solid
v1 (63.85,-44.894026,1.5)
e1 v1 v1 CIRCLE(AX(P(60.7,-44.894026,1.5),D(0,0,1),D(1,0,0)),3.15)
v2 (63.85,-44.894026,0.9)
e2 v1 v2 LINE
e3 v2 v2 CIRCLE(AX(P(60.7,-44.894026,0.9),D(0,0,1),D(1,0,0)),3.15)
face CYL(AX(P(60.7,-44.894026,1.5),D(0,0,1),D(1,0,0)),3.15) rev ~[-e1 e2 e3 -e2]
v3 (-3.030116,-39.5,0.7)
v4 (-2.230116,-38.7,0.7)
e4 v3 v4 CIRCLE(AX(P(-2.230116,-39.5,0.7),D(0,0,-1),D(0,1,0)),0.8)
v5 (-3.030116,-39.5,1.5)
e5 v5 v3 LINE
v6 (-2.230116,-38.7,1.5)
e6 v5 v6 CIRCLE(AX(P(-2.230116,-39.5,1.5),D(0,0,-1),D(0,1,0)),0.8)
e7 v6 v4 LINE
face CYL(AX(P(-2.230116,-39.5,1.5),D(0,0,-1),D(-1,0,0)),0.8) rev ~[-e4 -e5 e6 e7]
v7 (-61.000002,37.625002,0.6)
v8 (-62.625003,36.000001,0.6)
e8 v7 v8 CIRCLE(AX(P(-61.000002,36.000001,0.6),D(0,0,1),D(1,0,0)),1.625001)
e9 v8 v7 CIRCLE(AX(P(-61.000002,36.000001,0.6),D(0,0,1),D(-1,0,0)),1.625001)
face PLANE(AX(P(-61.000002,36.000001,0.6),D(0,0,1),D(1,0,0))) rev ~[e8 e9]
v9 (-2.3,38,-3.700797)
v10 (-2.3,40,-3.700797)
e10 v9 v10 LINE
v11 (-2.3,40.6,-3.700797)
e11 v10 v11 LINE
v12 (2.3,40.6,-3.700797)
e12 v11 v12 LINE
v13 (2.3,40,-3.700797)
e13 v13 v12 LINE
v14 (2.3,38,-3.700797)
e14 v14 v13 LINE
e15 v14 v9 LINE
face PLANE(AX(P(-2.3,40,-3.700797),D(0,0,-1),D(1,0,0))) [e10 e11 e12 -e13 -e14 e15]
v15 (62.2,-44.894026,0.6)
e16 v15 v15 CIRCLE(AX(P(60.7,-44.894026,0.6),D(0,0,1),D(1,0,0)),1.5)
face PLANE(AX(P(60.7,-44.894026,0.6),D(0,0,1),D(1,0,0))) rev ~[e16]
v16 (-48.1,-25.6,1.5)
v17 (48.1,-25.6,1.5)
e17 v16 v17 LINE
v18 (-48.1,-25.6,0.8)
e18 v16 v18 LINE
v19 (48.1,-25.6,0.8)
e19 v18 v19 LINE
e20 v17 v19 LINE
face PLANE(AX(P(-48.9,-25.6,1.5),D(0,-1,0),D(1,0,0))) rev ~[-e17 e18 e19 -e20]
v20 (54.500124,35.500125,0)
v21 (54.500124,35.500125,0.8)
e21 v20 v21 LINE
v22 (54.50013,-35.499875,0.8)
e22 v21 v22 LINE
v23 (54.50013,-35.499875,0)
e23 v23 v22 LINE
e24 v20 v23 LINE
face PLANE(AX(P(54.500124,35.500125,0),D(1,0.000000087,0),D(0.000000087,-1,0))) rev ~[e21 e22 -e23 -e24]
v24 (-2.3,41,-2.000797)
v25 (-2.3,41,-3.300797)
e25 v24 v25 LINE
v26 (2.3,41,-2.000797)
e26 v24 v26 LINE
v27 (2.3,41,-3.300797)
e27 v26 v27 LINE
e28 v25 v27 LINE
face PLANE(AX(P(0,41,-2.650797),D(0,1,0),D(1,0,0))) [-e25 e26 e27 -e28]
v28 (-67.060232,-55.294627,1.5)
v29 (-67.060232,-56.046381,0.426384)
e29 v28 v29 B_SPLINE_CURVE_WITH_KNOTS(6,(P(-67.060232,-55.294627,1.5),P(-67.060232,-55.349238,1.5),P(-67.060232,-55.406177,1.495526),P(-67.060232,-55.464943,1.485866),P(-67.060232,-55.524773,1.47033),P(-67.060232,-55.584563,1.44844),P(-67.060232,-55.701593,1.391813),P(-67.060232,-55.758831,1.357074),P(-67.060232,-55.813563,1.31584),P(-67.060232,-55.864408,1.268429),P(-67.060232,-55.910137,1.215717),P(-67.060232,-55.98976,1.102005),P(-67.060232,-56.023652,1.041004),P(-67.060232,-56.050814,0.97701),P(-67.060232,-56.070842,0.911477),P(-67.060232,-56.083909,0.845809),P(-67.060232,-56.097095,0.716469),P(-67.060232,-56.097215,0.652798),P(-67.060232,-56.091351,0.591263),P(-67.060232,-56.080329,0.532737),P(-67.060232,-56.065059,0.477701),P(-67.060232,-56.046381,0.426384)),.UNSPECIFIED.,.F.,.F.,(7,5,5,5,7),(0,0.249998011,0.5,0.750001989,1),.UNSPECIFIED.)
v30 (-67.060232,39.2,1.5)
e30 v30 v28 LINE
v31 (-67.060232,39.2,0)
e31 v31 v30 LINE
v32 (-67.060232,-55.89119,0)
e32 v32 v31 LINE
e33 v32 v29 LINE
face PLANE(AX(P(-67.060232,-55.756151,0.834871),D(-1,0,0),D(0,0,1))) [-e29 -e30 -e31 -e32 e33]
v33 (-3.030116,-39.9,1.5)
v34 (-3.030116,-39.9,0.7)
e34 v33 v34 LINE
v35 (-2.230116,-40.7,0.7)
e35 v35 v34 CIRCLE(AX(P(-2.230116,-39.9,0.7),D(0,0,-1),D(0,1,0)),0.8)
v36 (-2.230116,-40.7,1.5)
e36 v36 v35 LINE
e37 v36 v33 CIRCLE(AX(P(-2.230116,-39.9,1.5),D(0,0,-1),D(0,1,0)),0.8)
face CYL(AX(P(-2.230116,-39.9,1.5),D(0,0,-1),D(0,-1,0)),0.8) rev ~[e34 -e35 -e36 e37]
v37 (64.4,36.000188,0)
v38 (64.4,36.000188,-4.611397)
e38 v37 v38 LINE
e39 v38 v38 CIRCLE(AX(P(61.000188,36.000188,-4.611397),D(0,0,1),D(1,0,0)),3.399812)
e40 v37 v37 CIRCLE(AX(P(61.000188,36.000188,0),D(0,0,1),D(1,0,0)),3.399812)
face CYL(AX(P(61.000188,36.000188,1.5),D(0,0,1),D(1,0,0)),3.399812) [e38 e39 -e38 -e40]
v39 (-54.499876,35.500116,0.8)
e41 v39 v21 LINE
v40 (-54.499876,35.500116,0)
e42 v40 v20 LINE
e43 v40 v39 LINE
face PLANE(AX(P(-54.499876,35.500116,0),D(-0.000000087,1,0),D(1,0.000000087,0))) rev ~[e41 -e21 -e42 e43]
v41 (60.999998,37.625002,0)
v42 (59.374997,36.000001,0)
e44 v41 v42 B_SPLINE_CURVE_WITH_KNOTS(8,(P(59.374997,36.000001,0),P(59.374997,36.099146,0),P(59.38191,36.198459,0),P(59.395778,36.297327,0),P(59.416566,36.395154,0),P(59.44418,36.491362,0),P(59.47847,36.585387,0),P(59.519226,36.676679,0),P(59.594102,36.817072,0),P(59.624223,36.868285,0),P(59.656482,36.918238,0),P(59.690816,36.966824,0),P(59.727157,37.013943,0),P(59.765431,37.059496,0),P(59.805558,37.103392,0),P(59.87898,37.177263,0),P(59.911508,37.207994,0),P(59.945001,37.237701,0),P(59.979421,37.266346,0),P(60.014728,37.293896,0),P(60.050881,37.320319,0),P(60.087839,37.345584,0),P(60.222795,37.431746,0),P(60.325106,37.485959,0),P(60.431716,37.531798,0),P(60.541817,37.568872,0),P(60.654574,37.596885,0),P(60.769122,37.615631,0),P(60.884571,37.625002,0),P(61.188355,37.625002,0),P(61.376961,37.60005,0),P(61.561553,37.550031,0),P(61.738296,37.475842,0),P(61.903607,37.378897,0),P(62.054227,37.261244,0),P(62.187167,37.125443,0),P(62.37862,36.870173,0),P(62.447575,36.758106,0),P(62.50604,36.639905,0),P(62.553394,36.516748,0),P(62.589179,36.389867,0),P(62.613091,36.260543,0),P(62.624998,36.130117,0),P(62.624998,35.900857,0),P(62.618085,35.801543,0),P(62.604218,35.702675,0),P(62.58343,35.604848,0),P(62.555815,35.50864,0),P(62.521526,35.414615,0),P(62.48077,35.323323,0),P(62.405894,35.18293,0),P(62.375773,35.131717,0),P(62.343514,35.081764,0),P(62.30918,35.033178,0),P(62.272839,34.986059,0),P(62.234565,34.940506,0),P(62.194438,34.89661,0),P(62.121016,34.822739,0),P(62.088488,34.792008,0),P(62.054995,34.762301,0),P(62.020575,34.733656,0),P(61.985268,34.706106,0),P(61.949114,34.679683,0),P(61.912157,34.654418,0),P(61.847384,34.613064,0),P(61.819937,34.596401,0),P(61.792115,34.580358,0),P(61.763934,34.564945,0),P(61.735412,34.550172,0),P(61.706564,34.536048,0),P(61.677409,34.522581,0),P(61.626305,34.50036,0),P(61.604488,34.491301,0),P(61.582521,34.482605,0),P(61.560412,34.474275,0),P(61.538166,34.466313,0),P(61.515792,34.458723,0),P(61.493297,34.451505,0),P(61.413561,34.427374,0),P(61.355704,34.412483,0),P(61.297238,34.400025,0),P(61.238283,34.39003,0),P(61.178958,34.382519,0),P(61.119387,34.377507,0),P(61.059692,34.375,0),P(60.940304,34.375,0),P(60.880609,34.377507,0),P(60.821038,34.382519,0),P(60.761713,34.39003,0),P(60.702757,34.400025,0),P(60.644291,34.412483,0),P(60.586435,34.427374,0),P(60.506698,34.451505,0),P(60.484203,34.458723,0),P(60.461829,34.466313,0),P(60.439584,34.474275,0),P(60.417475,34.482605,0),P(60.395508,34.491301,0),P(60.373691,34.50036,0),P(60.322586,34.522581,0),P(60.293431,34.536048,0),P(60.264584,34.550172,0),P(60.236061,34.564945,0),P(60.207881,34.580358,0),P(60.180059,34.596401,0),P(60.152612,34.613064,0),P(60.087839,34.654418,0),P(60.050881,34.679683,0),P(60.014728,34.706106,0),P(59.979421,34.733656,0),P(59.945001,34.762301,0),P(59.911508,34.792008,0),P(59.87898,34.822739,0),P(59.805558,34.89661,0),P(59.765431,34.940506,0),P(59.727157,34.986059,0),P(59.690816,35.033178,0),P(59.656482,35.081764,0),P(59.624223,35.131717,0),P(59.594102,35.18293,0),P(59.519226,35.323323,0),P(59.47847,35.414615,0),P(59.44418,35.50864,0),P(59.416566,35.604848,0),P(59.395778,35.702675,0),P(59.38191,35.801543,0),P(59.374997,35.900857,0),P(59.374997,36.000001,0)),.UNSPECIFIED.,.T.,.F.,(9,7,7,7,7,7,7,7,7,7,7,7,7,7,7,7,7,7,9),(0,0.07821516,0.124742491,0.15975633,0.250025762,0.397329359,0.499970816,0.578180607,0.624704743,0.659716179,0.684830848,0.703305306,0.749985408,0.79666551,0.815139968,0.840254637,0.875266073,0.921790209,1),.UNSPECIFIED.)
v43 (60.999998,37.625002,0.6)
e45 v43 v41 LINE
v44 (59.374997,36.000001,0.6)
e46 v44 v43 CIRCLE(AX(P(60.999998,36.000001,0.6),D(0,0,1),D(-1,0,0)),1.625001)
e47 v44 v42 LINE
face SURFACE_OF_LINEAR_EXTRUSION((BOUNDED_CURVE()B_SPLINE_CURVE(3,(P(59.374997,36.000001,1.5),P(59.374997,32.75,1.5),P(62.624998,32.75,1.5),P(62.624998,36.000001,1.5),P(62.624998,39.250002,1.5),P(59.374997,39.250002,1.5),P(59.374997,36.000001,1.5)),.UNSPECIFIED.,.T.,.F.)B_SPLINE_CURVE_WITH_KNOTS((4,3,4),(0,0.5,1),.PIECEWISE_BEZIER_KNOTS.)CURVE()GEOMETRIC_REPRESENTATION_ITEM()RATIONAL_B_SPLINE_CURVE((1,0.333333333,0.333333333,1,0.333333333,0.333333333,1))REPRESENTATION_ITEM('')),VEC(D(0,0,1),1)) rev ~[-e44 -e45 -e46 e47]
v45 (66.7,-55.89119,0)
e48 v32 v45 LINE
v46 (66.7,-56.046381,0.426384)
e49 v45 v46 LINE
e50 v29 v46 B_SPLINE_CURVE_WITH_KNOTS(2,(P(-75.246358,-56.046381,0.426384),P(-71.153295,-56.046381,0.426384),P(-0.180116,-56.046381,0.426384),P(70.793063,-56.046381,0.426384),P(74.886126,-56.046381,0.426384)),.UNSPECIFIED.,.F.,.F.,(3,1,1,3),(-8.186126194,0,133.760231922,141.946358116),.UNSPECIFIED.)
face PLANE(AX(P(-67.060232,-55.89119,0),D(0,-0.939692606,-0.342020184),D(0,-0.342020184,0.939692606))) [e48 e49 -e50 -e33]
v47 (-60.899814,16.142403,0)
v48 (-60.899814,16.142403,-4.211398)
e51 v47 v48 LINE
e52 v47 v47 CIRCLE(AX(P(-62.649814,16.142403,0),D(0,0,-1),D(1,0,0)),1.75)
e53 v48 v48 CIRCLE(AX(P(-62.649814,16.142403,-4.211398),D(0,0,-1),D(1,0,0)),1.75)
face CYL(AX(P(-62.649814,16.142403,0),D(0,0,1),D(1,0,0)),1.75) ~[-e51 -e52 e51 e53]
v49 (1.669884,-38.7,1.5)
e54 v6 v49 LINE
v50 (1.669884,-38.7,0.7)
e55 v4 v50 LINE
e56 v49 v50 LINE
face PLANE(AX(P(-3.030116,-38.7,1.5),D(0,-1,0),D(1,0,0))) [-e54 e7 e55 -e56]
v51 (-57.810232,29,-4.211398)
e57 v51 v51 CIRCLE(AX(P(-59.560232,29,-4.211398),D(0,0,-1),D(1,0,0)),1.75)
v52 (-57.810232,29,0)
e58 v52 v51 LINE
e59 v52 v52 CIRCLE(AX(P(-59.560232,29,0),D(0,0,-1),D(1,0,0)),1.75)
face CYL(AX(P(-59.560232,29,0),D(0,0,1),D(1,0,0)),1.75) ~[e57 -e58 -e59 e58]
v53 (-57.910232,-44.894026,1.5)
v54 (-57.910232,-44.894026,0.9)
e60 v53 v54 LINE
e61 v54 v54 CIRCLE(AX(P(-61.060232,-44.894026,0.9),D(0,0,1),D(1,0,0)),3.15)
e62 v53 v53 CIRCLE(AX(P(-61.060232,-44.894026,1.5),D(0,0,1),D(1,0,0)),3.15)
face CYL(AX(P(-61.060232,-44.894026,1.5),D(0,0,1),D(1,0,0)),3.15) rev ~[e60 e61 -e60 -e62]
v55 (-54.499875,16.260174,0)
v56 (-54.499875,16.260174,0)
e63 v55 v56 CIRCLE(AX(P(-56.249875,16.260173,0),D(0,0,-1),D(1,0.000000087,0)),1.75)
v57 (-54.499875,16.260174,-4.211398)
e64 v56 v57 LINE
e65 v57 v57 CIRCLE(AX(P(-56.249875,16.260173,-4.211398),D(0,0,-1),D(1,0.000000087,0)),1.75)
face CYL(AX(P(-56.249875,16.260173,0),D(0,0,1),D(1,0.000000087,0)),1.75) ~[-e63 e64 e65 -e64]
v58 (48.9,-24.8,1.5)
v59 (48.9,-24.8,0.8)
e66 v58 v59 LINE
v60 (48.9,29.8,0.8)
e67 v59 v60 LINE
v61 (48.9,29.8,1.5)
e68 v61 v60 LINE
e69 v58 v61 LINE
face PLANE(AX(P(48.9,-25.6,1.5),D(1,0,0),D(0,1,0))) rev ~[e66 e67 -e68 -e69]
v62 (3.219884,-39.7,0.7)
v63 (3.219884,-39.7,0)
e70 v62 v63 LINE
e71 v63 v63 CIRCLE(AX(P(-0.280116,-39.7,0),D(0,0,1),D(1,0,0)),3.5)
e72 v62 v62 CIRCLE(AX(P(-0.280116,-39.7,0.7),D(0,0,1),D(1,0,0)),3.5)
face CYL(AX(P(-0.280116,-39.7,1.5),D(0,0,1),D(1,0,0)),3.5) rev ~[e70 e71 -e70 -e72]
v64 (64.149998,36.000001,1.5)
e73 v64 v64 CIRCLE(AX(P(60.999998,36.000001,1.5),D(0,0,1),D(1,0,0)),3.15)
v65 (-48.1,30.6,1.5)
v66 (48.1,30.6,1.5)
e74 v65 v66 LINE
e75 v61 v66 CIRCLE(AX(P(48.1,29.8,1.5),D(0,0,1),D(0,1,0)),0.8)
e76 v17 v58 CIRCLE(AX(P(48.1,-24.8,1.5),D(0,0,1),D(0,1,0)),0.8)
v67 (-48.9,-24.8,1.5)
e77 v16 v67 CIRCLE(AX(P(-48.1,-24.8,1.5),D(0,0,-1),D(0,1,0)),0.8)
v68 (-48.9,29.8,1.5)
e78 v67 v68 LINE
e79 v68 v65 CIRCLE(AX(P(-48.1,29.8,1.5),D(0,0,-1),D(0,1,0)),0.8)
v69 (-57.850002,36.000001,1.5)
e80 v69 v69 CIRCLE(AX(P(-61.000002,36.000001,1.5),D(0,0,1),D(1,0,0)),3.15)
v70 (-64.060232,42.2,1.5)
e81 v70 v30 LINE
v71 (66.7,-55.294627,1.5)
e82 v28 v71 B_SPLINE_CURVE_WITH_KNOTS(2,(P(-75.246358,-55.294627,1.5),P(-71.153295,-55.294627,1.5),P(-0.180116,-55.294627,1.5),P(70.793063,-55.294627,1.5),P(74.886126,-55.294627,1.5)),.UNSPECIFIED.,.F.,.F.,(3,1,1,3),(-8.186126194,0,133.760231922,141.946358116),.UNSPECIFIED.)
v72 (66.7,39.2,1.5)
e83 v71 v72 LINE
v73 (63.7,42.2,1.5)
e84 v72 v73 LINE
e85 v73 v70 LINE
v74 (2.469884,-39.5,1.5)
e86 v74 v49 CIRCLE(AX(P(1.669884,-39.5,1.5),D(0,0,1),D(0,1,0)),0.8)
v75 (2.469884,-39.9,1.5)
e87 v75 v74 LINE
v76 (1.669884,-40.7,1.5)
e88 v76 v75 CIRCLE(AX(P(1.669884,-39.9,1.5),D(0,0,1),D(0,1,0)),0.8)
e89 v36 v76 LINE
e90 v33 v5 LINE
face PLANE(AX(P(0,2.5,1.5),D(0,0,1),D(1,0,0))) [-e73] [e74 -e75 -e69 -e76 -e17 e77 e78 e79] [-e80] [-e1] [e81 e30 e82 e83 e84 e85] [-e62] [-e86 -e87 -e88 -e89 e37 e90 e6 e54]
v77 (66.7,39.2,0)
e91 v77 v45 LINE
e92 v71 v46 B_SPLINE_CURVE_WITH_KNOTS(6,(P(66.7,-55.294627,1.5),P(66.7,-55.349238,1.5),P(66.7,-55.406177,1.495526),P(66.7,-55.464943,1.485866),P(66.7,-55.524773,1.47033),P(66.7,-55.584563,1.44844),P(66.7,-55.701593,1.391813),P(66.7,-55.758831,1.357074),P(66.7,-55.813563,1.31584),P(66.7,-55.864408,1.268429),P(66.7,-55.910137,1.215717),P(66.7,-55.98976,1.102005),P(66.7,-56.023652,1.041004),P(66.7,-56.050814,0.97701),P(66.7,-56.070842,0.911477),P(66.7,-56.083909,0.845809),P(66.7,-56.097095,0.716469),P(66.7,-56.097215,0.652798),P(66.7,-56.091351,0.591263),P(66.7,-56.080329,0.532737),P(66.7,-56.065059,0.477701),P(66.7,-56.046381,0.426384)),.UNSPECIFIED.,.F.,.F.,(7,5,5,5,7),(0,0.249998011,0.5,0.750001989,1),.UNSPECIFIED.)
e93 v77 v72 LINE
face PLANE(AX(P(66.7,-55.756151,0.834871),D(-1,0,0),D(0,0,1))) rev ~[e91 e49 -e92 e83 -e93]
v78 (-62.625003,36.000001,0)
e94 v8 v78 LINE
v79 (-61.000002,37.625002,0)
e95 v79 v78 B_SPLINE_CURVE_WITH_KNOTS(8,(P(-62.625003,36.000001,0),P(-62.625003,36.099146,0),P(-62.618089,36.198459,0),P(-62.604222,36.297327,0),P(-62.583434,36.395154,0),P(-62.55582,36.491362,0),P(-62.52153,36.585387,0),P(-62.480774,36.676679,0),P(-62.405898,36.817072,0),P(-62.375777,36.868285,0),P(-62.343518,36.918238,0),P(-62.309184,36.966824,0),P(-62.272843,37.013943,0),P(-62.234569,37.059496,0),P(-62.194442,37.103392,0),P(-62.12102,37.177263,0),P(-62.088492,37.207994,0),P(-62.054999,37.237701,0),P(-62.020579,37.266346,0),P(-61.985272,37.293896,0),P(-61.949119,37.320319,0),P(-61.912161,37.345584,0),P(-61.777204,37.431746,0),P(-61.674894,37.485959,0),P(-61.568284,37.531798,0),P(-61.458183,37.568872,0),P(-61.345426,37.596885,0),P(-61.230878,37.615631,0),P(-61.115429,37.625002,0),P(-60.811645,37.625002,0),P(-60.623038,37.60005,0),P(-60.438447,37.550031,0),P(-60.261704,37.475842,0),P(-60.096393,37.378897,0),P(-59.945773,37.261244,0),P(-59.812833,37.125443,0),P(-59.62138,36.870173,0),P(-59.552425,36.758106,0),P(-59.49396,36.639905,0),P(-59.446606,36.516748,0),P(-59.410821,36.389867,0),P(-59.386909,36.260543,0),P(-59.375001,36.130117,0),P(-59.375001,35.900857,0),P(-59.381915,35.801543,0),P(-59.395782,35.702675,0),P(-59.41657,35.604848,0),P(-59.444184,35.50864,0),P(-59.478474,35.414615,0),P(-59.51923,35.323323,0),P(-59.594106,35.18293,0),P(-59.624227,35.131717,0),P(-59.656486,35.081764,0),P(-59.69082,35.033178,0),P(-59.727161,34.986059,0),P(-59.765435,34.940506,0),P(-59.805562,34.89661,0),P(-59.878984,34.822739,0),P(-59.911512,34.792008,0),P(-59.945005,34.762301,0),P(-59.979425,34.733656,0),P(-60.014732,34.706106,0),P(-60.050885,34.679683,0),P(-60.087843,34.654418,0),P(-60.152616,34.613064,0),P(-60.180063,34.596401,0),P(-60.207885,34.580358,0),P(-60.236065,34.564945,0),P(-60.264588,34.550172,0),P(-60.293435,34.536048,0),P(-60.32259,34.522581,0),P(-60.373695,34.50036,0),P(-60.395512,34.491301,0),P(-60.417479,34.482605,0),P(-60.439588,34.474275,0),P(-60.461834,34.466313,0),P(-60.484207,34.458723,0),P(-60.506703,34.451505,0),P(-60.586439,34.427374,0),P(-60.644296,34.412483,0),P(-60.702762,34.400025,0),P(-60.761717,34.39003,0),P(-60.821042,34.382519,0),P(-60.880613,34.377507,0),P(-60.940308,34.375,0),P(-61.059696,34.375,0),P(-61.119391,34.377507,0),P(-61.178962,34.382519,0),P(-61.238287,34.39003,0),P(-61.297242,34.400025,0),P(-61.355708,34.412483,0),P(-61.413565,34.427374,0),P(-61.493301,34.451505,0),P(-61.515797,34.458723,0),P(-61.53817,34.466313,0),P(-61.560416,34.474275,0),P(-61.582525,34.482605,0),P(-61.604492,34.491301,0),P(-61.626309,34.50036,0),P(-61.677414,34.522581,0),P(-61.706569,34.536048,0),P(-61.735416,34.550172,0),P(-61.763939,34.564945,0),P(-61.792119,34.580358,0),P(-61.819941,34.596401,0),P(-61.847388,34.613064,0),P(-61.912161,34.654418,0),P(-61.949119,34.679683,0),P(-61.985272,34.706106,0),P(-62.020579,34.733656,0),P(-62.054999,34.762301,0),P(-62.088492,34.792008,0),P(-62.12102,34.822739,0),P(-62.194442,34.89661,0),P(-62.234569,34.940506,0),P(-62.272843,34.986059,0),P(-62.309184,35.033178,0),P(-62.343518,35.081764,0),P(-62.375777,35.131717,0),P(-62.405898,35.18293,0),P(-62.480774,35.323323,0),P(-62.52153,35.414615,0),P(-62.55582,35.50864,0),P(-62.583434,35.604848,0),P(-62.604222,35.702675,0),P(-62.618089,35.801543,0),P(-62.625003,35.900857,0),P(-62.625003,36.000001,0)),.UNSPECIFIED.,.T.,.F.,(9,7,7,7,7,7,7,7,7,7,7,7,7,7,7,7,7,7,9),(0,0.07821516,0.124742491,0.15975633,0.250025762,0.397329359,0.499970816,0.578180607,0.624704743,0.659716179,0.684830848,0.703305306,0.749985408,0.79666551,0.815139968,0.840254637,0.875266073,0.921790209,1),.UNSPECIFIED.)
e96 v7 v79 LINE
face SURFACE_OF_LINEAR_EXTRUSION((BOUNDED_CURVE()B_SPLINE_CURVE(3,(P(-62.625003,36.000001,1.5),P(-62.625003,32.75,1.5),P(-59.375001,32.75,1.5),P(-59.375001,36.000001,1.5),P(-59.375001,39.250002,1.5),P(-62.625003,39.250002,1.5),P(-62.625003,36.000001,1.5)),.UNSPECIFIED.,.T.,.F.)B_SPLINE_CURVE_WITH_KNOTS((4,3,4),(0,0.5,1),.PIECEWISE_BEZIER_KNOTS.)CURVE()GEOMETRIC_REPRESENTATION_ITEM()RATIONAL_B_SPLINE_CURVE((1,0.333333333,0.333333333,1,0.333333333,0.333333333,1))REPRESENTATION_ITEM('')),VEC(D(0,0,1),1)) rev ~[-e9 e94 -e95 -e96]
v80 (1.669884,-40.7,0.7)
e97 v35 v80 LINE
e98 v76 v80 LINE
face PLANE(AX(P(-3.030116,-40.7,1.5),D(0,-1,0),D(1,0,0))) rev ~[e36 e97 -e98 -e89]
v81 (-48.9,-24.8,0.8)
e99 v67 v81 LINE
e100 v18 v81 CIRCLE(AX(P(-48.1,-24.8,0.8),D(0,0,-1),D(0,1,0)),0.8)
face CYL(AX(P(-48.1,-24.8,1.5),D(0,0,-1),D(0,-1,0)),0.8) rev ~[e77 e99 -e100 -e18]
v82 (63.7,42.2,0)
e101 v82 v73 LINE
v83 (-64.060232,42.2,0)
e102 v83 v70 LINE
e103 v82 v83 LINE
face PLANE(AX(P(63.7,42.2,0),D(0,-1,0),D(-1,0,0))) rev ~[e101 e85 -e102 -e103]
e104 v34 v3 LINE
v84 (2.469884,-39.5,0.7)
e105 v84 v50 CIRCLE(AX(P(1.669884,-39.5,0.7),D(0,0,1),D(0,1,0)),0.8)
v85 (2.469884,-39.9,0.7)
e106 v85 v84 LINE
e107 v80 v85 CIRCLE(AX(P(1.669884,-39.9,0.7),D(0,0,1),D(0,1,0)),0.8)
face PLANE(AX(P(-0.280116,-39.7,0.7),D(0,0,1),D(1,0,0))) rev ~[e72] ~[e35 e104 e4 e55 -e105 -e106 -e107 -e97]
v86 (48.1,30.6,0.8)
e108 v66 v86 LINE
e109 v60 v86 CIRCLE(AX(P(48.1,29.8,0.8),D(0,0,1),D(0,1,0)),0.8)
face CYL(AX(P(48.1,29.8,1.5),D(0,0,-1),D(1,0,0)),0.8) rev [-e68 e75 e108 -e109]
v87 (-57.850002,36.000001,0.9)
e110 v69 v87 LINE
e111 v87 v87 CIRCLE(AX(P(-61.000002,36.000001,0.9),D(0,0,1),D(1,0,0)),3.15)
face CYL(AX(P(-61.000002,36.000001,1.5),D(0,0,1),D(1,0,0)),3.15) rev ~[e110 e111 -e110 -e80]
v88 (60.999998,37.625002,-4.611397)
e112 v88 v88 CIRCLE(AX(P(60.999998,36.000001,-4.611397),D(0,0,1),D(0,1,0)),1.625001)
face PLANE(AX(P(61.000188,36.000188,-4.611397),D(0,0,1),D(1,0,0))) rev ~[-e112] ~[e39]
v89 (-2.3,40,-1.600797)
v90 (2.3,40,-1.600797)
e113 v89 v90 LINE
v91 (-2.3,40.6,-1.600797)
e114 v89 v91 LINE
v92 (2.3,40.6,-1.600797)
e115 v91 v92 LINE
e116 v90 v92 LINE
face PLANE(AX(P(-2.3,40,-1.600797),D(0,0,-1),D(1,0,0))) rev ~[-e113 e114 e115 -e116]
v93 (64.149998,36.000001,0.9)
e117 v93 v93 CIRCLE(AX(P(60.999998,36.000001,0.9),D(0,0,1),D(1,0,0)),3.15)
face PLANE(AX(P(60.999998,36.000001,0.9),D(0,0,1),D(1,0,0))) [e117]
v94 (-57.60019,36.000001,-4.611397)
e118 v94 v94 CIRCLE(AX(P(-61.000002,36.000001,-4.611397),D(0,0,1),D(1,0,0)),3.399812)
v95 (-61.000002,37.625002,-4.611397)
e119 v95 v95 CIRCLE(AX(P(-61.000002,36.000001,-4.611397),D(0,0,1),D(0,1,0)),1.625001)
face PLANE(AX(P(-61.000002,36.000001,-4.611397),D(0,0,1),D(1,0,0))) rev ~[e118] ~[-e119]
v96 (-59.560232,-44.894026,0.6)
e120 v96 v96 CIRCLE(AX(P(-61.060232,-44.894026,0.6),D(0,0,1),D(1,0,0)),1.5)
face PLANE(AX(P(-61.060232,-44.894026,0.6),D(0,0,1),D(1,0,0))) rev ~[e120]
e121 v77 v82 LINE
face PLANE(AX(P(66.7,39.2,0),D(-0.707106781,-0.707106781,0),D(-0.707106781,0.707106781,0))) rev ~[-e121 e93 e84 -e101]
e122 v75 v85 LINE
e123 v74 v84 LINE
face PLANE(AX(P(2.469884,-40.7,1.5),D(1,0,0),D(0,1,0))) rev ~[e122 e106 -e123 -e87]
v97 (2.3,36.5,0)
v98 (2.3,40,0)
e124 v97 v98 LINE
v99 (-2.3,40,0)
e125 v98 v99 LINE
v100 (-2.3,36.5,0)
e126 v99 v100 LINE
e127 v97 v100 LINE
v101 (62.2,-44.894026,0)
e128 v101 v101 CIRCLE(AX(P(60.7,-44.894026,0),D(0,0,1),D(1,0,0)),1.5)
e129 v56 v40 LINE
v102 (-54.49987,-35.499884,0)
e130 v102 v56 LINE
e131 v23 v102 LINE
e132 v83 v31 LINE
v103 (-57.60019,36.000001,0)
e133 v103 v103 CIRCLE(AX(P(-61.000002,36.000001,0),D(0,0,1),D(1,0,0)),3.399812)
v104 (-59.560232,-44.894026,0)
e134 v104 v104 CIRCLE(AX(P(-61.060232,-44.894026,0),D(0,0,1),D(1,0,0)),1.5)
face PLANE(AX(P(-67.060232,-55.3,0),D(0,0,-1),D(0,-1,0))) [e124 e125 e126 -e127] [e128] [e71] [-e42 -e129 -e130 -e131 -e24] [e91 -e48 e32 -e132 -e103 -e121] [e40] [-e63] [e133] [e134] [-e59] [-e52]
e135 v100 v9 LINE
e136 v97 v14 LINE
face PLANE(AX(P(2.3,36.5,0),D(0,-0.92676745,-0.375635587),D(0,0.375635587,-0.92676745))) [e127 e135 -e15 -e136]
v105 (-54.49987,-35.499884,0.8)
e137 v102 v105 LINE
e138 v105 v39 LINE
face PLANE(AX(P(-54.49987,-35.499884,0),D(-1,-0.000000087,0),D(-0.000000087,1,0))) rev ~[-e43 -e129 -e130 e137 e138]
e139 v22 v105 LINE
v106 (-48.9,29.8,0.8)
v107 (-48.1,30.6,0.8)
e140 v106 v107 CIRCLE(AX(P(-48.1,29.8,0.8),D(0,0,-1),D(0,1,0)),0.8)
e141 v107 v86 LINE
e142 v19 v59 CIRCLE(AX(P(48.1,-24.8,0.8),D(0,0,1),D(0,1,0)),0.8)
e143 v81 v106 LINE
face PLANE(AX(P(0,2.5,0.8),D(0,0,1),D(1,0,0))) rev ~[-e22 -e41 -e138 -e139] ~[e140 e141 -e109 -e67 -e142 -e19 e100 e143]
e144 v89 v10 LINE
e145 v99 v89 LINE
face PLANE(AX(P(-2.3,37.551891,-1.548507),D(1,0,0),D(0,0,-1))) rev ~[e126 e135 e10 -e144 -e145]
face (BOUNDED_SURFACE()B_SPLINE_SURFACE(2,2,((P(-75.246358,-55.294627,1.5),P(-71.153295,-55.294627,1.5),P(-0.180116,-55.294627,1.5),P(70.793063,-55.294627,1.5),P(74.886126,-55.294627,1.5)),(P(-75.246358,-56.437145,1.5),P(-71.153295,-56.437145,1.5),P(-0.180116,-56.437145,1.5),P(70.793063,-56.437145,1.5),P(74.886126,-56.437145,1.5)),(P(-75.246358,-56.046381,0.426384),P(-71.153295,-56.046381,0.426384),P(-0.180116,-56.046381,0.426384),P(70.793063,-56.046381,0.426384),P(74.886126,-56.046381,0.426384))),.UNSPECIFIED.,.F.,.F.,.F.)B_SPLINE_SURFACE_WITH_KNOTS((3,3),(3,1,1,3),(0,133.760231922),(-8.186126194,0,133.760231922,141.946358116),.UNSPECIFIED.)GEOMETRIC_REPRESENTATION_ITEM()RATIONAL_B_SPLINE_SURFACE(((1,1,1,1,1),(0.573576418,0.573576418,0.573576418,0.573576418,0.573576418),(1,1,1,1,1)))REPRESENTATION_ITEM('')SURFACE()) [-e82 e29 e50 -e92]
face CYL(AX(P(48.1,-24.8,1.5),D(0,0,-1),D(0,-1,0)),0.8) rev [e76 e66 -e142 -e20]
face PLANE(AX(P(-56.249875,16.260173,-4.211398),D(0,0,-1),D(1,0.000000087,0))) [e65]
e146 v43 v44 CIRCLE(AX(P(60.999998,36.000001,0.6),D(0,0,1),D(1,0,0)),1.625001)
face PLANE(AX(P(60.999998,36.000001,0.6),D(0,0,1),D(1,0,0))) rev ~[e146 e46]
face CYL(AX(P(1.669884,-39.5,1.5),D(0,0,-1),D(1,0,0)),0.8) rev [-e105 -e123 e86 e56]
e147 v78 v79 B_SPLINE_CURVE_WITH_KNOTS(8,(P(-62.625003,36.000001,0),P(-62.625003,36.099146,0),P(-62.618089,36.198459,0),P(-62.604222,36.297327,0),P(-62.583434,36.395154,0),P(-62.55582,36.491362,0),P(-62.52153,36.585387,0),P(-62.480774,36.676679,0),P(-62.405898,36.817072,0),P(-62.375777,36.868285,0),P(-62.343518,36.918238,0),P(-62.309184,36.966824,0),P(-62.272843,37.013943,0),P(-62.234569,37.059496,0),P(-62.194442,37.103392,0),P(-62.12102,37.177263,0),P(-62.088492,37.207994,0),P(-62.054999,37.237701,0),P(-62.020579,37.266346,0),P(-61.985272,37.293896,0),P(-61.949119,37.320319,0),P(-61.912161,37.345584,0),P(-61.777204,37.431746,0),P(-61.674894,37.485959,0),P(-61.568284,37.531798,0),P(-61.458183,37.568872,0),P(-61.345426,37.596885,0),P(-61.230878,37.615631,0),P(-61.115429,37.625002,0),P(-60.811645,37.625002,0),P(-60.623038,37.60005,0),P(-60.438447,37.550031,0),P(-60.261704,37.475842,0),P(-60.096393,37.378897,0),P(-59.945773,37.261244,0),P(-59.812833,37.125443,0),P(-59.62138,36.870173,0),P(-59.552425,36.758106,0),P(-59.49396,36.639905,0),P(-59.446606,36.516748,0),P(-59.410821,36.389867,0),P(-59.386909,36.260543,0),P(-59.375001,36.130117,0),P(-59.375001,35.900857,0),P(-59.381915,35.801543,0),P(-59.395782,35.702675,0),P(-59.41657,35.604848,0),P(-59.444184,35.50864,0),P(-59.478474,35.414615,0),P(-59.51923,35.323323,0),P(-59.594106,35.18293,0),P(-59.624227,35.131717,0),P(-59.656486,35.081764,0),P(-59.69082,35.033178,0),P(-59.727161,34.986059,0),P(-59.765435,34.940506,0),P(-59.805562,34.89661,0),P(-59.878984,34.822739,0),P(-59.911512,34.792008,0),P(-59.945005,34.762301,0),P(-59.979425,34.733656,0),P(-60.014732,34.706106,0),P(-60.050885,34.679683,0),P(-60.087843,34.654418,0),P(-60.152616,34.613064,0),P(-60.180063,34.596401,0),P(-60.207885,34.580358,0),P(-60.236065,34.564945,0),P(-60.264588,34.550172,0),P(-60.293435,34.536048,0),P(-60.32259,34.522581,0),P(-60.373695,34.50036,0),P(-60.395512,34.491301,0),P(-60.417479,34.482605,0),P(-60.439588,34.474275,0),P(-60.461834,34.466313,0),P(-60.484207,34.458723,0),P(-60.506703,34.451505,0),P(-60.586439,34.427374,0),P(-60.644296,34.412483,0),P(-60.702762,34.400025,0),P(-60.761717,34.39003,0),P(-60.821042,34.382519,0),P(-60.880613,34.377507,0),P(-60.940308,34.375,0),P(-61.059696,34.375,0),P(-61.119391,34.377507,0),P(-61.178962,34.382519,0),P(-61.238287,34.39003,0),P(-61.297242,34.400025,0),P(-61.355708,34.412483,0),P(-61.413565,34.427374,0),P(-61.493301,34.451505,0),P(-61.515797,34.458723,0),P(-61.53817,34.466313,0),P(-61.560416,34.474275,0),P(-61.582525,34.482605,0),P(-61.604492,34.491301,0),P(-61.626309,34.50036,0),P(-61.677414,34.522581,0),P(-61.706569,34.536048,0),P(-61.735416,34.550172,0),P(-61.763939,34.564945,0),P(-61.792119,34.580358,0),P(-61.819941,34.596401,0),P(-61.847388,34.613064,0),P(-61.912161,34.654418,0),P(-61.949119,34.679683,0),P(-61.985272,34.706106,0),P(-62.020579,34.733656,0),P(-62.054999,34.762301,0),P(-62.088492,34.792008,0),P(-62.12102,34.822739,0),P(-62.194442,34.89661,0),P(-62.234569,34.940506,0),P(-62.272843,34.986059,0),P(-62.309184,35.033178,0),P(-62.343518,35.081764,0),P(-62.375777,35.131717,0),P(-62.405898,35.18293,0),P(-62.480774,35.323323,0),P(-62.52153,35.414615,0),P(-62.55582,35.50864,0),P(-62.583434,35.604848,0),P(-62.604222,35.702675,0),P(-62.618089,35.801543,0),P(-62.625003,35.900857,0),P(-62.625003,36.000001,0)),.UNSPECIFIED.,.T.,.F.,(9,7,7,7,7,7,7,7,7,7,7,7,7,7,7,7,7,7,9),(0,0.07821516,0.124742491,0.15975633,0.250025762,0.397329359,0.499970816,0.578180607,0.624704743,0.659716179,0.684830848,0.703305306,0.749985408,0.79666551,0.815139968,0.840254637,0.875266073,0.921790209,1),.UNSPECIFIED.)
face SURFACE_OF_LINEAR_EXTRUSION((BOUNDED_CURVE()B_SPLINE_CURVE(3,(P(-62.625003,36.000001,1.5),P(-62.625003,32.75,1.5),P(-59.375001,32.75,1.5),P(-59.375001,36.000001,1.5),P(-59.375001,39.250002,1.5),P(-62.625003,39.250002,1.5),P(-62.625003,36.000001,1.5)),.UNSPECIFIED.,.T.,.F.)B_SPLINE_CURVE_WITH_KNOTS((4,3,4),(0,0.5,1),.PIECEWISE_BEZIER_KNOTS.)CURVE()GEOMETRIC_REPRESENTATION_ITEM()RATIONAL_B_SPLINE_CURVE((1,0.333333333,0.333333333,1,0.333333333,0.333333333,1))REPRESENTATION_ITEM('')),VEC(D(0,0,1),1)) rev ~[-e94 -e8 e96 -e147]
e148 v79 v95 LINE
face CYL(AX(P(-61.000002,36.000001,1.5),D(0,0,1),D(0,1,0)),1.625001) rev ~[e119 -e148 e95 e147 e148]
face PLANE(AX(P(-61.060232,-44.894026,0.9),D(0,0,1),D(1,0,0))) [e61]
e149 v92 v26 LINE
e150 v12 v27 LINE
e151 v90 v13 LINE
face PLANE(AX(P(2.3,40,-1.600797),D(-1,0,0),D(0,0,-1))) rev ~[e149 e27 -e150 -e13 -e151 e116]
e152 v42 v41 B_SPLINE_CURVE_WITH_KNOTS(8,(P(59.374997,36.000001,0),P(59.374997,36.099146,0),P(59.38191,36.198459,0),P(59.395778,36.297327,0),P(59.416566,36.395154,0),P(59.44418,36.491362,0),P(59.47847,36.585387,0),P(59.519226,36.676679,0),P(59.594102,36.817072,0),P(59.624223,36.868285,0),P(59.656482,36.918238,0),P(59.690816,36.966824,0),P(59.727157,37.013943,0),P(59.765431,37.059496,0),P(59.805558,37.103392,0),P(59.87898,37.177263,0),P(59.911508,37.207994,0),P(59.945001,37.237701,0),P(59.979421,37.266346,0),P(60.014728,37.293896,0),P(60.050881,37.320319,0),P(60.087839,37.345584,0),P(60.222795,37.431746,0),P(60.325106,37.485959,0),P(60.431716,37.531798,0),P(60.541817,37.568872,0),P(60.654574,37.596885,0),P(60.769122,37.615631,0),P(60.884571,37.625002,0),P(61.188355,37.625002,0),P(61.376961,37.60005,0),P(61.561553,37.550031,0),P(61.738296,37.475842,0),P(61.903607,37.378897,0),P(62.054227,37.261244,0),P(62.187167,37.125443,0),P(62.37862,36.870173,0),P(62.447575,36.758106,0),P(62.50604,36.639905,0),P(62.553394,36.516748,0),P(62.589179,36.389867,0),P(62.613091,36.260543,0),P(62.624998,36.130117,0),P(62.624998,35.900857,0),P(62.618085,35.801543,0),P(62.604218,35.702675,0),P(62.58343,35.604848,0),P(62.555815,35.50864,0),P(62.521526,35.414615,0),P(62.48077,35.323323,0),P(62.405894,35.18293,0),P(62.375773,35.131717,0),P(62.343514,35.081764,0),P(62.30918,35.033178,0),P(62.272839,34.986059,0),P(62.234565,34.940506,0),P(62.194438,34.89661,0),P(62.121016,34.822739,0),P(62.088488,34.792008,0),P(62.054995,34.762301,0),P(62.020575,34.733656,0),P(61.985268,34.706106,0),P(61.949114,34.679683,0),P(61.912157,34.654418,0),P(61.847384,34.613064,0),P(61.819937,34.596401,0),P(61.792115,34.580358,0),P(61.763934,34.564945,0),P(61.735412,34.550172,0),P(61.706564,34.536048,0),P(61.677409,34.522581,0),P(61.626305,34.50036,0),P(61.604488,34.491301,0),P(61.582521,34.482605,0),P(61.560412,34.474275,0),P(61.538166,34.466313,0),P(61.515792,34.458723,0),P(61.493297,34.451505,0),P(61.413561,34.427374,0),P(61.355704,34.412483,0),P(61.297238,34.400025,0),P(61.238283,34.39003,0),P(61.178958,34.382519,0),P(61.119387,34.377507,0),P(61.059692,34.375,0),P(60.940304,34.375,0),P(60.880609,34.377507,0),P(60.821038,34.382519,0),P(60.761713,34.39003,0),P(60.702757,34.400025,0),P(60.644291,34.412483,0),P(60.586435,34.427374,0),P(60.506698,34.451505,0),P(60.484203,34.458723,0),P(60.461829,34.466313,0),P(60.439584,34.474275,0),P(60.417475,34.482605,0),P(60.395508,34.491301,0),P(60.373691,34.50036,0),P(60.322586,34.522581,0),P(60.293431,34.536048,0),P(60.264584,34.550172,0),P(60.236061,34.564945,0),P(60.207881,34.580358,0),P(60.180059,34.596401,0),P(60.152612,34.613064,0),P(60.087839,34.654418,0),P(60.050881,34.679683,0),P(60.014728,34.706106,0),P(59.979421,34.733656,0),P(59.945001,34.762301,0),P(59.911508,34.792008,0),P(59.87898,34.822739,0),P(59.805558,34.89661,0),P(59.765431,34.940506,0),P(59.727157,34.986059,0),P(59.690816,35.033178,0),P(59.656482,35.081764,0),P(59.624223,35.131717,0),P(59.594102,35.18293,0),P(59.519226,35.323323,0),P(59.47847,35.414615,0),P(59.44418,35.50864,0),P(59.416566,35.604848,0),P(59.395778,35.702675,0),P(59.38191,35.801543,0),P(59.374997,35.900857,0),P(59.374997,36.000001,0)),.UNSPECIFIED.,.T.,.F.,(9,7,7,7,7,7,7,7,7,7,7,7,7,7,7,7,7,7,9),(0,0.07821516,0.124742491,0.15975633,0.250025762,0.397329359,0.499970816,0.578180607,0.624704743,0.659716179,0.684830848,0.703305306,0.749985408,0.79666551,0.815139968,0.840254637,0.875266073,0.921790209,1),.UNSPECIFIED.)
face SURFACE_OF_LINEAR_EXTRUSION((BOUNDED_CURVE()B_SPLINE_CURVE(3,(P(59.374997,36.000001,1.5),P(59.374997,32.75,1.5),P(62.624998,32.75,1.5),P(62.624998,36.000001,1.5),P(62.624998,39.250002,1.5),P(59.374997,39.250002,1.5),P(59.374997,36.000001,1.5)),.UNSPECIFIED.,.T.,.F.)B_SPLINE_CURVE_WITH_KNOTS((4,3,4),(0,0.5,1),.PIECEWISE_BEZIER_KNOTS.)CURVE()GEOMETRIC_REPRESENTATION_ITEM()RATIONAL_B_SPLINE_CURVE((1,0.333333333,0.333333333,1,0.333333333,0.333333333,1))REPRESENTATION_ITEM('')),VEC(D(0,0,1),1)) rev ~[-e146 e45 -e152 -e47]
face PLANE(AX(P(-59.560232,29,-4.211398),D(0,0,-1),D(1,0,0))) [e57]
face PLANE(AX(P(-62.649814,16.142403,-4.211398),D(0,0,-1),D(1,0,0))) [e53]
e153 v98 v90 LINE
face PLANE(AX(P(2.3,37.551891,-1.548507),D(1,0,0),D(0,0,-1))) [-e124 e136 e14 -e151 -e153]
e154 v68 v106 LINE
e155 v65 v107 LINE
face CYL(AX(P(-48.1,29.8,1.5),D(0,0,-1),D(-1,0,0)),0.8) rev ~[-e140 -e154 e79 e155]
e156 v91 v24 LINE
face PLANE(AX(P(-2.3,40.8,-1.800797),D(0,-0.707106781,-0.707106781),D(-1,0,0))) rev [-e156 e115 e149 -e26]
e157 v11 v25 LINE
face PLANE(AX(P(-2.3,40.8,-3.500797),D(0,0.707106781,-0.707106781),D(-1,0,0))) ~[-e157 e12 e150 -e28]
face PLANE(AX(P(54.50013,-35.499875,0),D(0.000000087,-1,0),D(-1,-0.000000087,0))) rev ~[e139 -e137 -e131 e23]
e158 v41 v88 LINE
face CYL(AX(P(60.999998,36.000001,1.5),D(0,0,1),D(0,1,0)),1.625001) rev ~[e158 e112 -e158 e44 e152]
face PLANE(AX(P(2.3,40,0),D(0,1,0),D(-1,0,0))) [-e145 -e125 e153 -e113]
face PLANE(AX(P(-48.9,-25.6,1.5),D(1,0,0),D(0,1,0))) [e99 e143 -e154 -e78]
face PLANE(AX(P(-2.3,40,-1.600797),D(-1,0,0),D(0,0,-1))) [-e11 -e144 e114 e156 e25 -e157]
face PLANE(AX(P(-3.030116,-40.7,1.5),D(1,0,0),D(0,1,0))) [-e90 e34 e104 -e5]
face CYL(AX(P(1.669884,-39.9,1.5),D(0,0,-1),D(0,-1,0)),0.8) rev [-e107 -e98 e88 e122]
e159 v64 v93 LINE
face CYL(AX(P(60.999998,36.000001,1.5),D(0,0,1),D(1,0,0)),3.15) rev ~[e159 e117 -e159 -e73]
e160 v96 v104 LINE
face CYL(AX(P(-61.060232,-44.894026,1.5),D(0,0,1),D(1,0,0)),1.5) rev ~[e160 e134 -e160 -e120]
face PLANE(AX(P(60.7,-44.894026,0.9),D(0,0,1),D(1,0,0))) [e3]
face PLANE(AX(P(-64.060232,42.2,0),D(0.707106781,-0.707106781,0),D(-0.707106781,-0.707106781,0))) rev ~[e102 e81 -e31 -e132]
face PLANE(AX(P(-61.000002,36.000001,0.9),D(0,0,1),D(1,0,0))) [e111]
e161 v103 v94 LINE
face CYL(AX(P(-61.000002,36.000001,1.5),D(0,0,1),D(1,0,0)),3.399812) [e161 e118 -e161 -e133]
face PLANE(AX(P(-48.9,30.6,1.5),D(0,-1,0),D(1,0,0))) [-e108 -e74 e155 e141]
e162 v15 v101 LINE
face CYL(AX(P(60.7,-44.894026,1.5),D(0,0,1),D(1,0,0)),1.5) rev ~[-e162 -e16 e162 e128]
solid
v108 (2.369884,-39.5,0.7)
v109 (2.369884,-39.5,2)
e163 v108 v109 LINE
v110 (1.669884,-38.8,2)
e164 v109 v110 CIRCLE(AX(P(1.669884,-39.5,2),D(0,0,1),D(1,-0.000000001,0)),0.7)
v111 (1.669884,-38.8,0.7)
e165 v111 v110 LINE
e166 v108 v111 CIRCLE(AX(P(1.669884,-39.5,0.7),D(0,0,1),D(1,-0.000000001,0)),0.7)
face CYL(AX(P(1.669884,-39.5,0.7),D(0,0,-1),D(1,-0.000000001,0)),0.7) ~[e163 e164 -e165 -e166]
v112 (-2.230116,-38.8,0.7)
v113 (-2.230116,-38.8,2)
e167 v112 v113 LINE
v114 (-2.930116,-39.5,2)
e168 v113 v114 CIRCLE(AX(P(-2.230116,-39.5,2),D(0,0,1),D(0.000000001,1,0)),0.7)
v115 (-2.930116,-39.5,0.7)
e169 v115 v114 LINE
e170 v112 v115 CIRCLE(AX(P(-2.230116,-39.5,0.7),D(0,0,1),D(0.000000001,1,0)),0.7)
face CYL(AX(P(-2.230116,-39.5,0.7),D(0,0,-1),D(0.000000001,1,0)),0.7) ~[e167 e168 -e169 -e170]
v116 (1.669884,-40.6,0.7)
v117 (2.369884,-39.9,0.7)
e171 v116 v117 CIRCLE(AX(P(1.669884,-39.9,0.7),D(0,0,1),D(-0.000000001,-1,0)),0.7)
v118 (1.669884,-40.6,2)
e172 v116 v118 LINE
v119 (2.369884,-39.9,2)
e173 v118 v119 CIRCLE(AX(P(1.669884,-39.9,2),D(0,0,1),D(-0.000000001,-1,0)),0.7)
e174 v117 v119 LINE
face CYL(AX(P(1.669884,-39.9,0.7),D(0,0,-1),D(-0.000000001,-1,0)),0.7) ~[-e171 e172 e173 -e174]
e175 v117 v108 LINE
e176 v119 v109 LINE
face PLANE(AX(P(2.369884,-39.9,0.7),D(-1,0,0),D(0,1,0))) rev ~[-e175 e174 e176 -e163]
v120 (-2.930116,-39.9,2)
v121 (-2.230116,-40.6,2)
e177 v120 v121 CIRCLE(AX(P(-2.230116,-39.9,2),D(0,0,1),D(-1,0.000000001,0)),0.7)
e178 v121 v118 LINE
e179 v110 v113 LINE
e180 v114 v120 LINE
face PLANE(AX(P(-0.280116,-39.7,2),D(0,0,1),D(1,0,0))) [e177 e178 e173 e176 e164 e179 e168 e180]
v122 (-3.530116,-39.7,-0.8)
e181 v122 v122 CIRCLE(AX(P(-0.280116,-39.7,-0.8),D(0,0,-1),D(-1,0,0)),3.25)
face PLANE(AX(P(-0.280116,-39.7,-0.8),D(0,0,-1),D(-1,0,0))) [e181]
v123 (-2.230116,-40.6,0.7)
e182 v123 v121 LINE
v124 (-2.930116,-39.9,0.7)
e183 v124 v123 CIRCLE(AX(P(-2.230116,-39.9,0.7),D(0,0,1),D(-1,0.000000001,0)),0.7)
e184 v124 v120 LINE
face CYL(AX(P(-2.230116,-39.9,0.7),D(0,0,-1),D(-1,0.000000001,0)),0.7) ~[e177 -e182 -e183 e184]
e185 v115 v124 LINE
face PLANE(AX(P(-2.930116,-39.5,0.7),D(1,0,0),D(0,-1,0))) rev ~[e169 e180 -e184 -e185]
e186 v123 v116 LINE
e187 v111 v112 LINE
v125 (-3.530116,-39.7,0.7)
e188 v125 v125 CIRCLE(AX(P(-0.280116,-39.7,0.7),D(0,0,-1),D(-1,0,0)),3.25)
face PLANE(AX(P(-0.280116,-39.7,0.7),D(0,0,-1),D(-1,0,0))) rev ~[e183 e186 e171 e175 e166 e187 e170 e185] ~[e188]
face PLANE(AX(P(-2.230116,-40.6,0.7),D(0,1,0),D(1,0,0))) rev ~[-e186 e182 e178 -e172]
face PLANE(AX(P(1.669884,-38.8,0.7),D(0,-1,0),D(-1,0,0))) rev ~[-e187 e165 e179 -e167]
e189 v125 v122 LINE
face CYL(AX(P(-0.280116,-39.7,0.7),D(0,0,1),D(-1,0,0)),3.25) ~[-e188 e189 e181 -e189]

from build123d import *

# Parameters (mm, degrees)
SKETCH1_W            = 99
SKETCH1_H            = 59
BOSS_EXTRUDE1_DEPTH  = 1.5
BOSS_EXTRUDE2_DEPTH  = 133.760231922
CUT_EXTRUDE1_DEPTH   = 0.8
SKETCH4_R            = 1.5
CUT_EXTRUDE2_DEPTH   = 2
SKETCH5_R            = 3.399812147
SKETCH5_R_2          = 1.62500056
BOSS_EXTRUDE3_DEPTH  = 6.111397409
SKETCH6_R            = 3.5
CUT_EXTRUDE5_DEPTH   = 10
SKETCH7_R            = 3.5
SKETCH7_W            = 5.5
SKETCH7_H            = 2
BOSS_EXTRUDE4_DEPTH  = 0.8
FILLET1_R            = 0.8
SKETCH8_R            = 3.25
BOSS_EXTRUDE5_DEPTH  = 1.5
BOSS_EXTRUDE6_DEPTH  = 1.3
SKETCH10_R           = 3.15
CUT_EXTRUDE6_DEPTH   = 0.6
SKETCH11_R           = 1.75
BOSS_EXTRUDE7_DEPTH  = 4.211398277
SKETCH12_R           = 1.62500056
SKETCH12_R_2         = 1.5
BOSS_EXTRUDE8_DEPTH  = 0.3
SKETCH13_W           = 99
SKETCH13_H           = 59
SKETCH13_W_2         = 97.8
SKETCH13_H_2         = 56.2
BOSS_EXTRUDE9_DEPTH  = 0.7
FILLET2_R            = 0.8
FILLET3_R            = 0.8
SKETCH14_W           = 4.6
SKETCH14_H           = 2
BOSS_EXTRUDE10_DEPTH = 3.700797235
SKETCH15_W           = 4.6
SKETCH15_H           = 2.100000097
BOSS_EXTRUDE11_DEPTH = 1
CHAMFER1_SIZE        = 0.4
BOSS_EXTRUDE12_DEPTH = 4.6


with BuildPart() as part:
    # Sketch1 → Boss-Extrude1 (new body)
    with BuildSketch(Plane.XY):
        Polygon((63.7, 42.199999637), (-64.060231922, 42.199999637), (-67.060231922, 39.199999637), (-67.060231922, -42.134474378), (-67.060231922, -55.300000363), (66.7, -55.300000363), (66.7, -42.134474378), (66.7, 39.199999637), align=None)
        with Locations((0, 2.5)):
            Rectangle(SKETCH1_W, SKETCH1_H, mode=Mode.SUBTRACT)
    extrude(amount=BOSS_EXTRUDE1_DEPTH)

    # Sketch2 → Boss-Extrude2 (add)
    with BuildSketch(Plane.ZY.offset(67.060231922)):
        Polygon((0, -55.89119006), (1.499999976, -56.437145477), (1.5, -55.300000363), (0, -55.300000363), align=None)
    extrude(amount=-BOSS_EXTRUDE2_DEPTH)

    # Sketch3 → Cut-Extrude1 (cut)
    with BuildSketch(Plane(origin=(0, 0, 0), x_dir=(-1, 0, 0), z_dir=(0, 0, -1))):
        Polygon((54.499870171, -35.499884466), (54.499876378, 35.500115534), (-54.500123622, 35.500125063), (-54.500129829, -35.499874937), align=None)
    extrude(amount=-CUT_EXTRUDE1_DEPTH, mode=Mode.SUBTRACT)

    # Sketch4 → Cut-Extrude2 (cut)
    with BuildSketch(Plane.XY.offset(1.5)):
        with Locations((60.7, -44.894025617)):
            Circle(SKETCH4_R)
        with Locations((-61.060231922, -44.894025617)):
            Circle(SKETCH4_R)
        with BuildLine():
            add(Edge.make_bspline(
                [(-62.62500256, 36.000001036), (-62.62500256, 32.749999916), (-59.37500144, 32.749999916), (-59.37500144, 36.000001036), (-59.37500144, 39.250002156), (-62.62500256, 39.250002156), (-62.62500256, 36.000001036)],
                knots=[0, 0, 0, 0, 0.5, 0.5, 0.5, 1, 1, 1, 1], degree=3, weights=[1, 0.333333333, 0.333333333, 1, 0.333333333, 0.333333333, 1]))
        make_face()
        with BuildLine():
            add(Edge.make_bspline(
                [(59.37499728, 36.000001036), (59.37499728, 32.749999916), (62.6249984, 32.749999916), (62.6249984, 36.000001036), (62.6249984, 39.250002156), (59.37499728, 39.250002156), (59.37499728, 36.000001036)],
                knots=[0, 0, 0, 0, 0.5, 0.5, 0.5, 1, 1, 1, 1], degree=3, weights=[1, 0.333333333, 0.333333333, 1, 0.333333333, 0.333333333, 1]))
        make_face()
    extrude(amount=-CUT_EXTRUDE2_DEPTH, mode=Mode.SUBTRACT)

    # Sketch5 → Boss-Extrude3 (add)
    # profile 1 of 2: a face of its own
    with BuildSketch(Plane.XY.offset(1.5)):
        with Locations((-61.000002, 36.000001036)):
            Circle(SKETCH5_R)
        with Locations(Location((-61.000002, 36.000001036, 0), (0, 0, 90))):
            Circle(SKETCH5_R_2, mode=Mode.SUBTRACT)
    # profile 2 of 2: a face of its own
    with BuildSketch(Plane.XY.offset(1.5)):
        with Locations((61.000187857, 36.000187857)):
            Circle(SKETCH5_R)
        with Locations(Location((60.99999784, 36.000001036, 0), (0, 0, 90))):
            Circle(SKETCH5_R_2, mode=Mode.SUBTRACT)
    extrude(amount=-BOSS_EXTRUDE3_DEPTH)

    # Sketch6 → Cut-Extrude5 (cut)
    with BuildSketch(Plane.XY.offset(1.5)):
        with Locations((-0.280115961, -39.700000383)):
            Circle(SKETCH6_R)
    extrude(amount=-CUT_EXTRUDE5_DEPTH, mode=Mode.SUBTRACT)

    # Sketch7 → Boss-Extrude4 (add)
    with BuildSketch(Plane.XY.offset(1.5)):
        with Locations((-0.280115961, -39.700000383)):
            Circle(SKETCH7_R)
        with Locations((-0.280115961, -39.700000383)):
            Rectangle(SKETCH7_W, SKETCH7_H, mode=Mode.SUBTRACT)
    extrude(amount=-BOSS_EXTRUDE4_DEPTH)

    # Fillet1
    fillet1_edges = [part.edges().sort_by_distance(p)[0] for p in [
        (2.469884039, -40.700000383, 1.1),
        (-3.030115961, -40.700000383, 1.1),
        (-3.030115961, -38.700000383, 1.1),
        (2.469884039, -38.700000383, 1.1),
    ]]
    fillet(fillet1_edges, radius=FILLET1_R)

    # Sketch10 → Cut-Extrude6 (cut)
    with BuildSketch(Plane.XY.offset(1.5)):
        with Locations((-61.000002, 36.000001036)):
            Circle(SKETCH10_R)
        with Locations((-61.060231922, -44.894025617)):
            Circle(SKETCH10_R)
        with Locations((60.7, -44.894025617)):
            Circle(SKETCH10_R)
        with Locations((60.99999784, 36.000001036)):
            Circle(SKETCH10_R)
    extrude(amount=-CUT_EXTRUDE6_DEPTH, mode=Mode.SUBTRACT)

    # Sketch11 → Boss-Extrude7 (add)
    with BuildSketch(Plane(origin=(0, 0, 0), x_dir=(-1, 0, 0), z_dir=(0, 0, -1))):
        with Locations(Location((62.649814147, 16.142402615, 0), (0, 0, 180))):
            Circle(SKETCH11_R)
        with Locations(Location((56.249874696, 16.260173458, 0), (0, 0, 179.999994991))):
            Circle(SKETCH11_R)
        with Locations(Location((59.560231922, 28.999999637, 0), (0, 0, 180))):
            Circle(SKETCH11_R)
    extrude(amount=BOSS_EXTRUDE7_DEPTH)

    # Sketch12 → Boss-Extrude8 (add)
    with BuildSketch(Plane.XY.offset(0.9)):
        with Locations((-61.000002, 36.000001036)):
            Circle(SKETCH12_R)
        with Locations((-61.060231922, -44.894025617)):
            Circle(SKETCH12_R_2)
        with Locations((60.99999784, 36.000001036)):
            Circle(SKETCH12_R)
        with Locations((60.7, -44.894025617)):
            Circle(SKETCH12_R_2)
    extrude(amount=-BOSS_EXTRUDE8_DEPTH)

    # Sketch13 → Boss-Extrude9 (add)
    with BuildSketch(Plane.XY.offset(1.5)):
        with Locations((0, 2.5)):
            Rectangle(SKETCH13_W, SKETCH13_H)
        with Locations((0, 2.5)):
            Rectangle(SKETCH13_W_2, SKETCH13_H_2, mode=Mode.SUBTRACT)
    extrude(amount=-BOSS_EXTRUDE9_DEPTH)

    # Fillet2
    fillet2_edges = [part.edges().sort_by_distance(p)[0] for p in [
        (48.9, -25.6, 1.15),
        (-48.9, -25.6, 1.15),
        (-48.9, 30.6, 1.15),
        (48.9, 30.6, 1.15),
    ]]
    fillet(fillet2_edges, radius=FILLET2_R)

    # Fillet3
    fillet3_edges = [part.edges().sort_by_distance(p)[0] for p in [
        (-0.180115961, -56.437145477, 1.499999976),
    ]]
    fillet(fillet3_edges, radius=FILLET3_R)

    # Sketch14 → Boss-Extrude10 (add)
    with BuildSketch(Plane(origin=(0, 0, 0), x_dir=(-1, 0, 0), z_dir=(0, 0, -1))):
        with Locations((0, 38.999999724)):
            Rectangle(SKETCH14_W, SKETCH14_H)
    extrude(amount=BOSS_EXTRUDE10_DEPTH)

    # Sketch15 → Boss-Extrude11 (add)
    with BuildSketch(Plane(origin=(0, 39.999999724, 0), x_dir=(1.0, 2.676820723074785e-12, 0), z_dir=(-2.676820723074785e-12, 1.0, 0))):
        with Locations((0, 2.650797187)):
            Rectangle(SKETCH15_W, SKETCH15_H)
    extrude(amount=BOSS_EXTRUDE11_DEPTH)

    # Chamfer1
    chamfer1_edges = [part.edges().sort_by_distance(p)[0] for p in [
        (0, 40.999999724, -3.700797235),
        (0, 40.999999724, -1.600797138),
    ]]
    chamfer(chamfer1_edges, length=CHAMFER1_SIZE)

    # Sketch16 → Boss-Extrude12 (add)
    with BuildSketch(Plane(origin=(2.3, 0, 0), x_dir=(0, 0, -1), z_dir=(1, 0, 0))):
        Polygon((3.700797322, 37.999999724), (0, 37.999999724), (0, 36.499999724), align=None)
    extrude(amount=-BOSS_EXTRUDE12_DEPTH)


with BuildPart() as body_2:
    # Sketch8 → Boss-Extrude5 (new body)
    with BuildSketch(Plane(origin=(0, 0, 0.7), x_dir=(-1, 0, 0), z_dir=(0, 0, -1))):
        with Locations((0.280115961, -39.700000383)):
            Circle(SKETCH8_R)
    extrude(amount=BOSS_EXTRUDE5_DEPTH)

    # Sketch9 → Boss-Extrude6 (add)
    with BuildSketch(Plane.XY.offset(0.7)):
        with BuildLine():
            Line((2.369884039, -39.900000383), (2.369884039, -39.500000383))
            ThreePointArc((2.369884039, -39.500000383), (2.164858786, -39.005025636), (1.669884039, -38.800000383))
            Line((1.669884039, -38.800000383), (-2.230115961, -38.800000383))
            ThreePointArc((-2.230115961, -38.800000383), (-2.725090708, -39.005025636), (-2.930115961, -39.500000383))
            Line((-2.930115961, -39.500000383), (-2.930115961, -39.900000383))
            ThreePointArc((-2.930115961, -39.900000383), (-2.725090708, -40.39497513), (-2.230115961, -40.600000383))
            Line((-2.230115961, -40.600000383), (1.669884039, -40.600000383))
            ThreePointArc((1.669884039, -40.600000383), (2.164858786, -40.39497513), (2.369884039, -39.900000383))
        make_face()
    extrude(amount=BOSS_EXTRUDE6_DEPTH)


solid = Compound([part.part, body_2.part])
